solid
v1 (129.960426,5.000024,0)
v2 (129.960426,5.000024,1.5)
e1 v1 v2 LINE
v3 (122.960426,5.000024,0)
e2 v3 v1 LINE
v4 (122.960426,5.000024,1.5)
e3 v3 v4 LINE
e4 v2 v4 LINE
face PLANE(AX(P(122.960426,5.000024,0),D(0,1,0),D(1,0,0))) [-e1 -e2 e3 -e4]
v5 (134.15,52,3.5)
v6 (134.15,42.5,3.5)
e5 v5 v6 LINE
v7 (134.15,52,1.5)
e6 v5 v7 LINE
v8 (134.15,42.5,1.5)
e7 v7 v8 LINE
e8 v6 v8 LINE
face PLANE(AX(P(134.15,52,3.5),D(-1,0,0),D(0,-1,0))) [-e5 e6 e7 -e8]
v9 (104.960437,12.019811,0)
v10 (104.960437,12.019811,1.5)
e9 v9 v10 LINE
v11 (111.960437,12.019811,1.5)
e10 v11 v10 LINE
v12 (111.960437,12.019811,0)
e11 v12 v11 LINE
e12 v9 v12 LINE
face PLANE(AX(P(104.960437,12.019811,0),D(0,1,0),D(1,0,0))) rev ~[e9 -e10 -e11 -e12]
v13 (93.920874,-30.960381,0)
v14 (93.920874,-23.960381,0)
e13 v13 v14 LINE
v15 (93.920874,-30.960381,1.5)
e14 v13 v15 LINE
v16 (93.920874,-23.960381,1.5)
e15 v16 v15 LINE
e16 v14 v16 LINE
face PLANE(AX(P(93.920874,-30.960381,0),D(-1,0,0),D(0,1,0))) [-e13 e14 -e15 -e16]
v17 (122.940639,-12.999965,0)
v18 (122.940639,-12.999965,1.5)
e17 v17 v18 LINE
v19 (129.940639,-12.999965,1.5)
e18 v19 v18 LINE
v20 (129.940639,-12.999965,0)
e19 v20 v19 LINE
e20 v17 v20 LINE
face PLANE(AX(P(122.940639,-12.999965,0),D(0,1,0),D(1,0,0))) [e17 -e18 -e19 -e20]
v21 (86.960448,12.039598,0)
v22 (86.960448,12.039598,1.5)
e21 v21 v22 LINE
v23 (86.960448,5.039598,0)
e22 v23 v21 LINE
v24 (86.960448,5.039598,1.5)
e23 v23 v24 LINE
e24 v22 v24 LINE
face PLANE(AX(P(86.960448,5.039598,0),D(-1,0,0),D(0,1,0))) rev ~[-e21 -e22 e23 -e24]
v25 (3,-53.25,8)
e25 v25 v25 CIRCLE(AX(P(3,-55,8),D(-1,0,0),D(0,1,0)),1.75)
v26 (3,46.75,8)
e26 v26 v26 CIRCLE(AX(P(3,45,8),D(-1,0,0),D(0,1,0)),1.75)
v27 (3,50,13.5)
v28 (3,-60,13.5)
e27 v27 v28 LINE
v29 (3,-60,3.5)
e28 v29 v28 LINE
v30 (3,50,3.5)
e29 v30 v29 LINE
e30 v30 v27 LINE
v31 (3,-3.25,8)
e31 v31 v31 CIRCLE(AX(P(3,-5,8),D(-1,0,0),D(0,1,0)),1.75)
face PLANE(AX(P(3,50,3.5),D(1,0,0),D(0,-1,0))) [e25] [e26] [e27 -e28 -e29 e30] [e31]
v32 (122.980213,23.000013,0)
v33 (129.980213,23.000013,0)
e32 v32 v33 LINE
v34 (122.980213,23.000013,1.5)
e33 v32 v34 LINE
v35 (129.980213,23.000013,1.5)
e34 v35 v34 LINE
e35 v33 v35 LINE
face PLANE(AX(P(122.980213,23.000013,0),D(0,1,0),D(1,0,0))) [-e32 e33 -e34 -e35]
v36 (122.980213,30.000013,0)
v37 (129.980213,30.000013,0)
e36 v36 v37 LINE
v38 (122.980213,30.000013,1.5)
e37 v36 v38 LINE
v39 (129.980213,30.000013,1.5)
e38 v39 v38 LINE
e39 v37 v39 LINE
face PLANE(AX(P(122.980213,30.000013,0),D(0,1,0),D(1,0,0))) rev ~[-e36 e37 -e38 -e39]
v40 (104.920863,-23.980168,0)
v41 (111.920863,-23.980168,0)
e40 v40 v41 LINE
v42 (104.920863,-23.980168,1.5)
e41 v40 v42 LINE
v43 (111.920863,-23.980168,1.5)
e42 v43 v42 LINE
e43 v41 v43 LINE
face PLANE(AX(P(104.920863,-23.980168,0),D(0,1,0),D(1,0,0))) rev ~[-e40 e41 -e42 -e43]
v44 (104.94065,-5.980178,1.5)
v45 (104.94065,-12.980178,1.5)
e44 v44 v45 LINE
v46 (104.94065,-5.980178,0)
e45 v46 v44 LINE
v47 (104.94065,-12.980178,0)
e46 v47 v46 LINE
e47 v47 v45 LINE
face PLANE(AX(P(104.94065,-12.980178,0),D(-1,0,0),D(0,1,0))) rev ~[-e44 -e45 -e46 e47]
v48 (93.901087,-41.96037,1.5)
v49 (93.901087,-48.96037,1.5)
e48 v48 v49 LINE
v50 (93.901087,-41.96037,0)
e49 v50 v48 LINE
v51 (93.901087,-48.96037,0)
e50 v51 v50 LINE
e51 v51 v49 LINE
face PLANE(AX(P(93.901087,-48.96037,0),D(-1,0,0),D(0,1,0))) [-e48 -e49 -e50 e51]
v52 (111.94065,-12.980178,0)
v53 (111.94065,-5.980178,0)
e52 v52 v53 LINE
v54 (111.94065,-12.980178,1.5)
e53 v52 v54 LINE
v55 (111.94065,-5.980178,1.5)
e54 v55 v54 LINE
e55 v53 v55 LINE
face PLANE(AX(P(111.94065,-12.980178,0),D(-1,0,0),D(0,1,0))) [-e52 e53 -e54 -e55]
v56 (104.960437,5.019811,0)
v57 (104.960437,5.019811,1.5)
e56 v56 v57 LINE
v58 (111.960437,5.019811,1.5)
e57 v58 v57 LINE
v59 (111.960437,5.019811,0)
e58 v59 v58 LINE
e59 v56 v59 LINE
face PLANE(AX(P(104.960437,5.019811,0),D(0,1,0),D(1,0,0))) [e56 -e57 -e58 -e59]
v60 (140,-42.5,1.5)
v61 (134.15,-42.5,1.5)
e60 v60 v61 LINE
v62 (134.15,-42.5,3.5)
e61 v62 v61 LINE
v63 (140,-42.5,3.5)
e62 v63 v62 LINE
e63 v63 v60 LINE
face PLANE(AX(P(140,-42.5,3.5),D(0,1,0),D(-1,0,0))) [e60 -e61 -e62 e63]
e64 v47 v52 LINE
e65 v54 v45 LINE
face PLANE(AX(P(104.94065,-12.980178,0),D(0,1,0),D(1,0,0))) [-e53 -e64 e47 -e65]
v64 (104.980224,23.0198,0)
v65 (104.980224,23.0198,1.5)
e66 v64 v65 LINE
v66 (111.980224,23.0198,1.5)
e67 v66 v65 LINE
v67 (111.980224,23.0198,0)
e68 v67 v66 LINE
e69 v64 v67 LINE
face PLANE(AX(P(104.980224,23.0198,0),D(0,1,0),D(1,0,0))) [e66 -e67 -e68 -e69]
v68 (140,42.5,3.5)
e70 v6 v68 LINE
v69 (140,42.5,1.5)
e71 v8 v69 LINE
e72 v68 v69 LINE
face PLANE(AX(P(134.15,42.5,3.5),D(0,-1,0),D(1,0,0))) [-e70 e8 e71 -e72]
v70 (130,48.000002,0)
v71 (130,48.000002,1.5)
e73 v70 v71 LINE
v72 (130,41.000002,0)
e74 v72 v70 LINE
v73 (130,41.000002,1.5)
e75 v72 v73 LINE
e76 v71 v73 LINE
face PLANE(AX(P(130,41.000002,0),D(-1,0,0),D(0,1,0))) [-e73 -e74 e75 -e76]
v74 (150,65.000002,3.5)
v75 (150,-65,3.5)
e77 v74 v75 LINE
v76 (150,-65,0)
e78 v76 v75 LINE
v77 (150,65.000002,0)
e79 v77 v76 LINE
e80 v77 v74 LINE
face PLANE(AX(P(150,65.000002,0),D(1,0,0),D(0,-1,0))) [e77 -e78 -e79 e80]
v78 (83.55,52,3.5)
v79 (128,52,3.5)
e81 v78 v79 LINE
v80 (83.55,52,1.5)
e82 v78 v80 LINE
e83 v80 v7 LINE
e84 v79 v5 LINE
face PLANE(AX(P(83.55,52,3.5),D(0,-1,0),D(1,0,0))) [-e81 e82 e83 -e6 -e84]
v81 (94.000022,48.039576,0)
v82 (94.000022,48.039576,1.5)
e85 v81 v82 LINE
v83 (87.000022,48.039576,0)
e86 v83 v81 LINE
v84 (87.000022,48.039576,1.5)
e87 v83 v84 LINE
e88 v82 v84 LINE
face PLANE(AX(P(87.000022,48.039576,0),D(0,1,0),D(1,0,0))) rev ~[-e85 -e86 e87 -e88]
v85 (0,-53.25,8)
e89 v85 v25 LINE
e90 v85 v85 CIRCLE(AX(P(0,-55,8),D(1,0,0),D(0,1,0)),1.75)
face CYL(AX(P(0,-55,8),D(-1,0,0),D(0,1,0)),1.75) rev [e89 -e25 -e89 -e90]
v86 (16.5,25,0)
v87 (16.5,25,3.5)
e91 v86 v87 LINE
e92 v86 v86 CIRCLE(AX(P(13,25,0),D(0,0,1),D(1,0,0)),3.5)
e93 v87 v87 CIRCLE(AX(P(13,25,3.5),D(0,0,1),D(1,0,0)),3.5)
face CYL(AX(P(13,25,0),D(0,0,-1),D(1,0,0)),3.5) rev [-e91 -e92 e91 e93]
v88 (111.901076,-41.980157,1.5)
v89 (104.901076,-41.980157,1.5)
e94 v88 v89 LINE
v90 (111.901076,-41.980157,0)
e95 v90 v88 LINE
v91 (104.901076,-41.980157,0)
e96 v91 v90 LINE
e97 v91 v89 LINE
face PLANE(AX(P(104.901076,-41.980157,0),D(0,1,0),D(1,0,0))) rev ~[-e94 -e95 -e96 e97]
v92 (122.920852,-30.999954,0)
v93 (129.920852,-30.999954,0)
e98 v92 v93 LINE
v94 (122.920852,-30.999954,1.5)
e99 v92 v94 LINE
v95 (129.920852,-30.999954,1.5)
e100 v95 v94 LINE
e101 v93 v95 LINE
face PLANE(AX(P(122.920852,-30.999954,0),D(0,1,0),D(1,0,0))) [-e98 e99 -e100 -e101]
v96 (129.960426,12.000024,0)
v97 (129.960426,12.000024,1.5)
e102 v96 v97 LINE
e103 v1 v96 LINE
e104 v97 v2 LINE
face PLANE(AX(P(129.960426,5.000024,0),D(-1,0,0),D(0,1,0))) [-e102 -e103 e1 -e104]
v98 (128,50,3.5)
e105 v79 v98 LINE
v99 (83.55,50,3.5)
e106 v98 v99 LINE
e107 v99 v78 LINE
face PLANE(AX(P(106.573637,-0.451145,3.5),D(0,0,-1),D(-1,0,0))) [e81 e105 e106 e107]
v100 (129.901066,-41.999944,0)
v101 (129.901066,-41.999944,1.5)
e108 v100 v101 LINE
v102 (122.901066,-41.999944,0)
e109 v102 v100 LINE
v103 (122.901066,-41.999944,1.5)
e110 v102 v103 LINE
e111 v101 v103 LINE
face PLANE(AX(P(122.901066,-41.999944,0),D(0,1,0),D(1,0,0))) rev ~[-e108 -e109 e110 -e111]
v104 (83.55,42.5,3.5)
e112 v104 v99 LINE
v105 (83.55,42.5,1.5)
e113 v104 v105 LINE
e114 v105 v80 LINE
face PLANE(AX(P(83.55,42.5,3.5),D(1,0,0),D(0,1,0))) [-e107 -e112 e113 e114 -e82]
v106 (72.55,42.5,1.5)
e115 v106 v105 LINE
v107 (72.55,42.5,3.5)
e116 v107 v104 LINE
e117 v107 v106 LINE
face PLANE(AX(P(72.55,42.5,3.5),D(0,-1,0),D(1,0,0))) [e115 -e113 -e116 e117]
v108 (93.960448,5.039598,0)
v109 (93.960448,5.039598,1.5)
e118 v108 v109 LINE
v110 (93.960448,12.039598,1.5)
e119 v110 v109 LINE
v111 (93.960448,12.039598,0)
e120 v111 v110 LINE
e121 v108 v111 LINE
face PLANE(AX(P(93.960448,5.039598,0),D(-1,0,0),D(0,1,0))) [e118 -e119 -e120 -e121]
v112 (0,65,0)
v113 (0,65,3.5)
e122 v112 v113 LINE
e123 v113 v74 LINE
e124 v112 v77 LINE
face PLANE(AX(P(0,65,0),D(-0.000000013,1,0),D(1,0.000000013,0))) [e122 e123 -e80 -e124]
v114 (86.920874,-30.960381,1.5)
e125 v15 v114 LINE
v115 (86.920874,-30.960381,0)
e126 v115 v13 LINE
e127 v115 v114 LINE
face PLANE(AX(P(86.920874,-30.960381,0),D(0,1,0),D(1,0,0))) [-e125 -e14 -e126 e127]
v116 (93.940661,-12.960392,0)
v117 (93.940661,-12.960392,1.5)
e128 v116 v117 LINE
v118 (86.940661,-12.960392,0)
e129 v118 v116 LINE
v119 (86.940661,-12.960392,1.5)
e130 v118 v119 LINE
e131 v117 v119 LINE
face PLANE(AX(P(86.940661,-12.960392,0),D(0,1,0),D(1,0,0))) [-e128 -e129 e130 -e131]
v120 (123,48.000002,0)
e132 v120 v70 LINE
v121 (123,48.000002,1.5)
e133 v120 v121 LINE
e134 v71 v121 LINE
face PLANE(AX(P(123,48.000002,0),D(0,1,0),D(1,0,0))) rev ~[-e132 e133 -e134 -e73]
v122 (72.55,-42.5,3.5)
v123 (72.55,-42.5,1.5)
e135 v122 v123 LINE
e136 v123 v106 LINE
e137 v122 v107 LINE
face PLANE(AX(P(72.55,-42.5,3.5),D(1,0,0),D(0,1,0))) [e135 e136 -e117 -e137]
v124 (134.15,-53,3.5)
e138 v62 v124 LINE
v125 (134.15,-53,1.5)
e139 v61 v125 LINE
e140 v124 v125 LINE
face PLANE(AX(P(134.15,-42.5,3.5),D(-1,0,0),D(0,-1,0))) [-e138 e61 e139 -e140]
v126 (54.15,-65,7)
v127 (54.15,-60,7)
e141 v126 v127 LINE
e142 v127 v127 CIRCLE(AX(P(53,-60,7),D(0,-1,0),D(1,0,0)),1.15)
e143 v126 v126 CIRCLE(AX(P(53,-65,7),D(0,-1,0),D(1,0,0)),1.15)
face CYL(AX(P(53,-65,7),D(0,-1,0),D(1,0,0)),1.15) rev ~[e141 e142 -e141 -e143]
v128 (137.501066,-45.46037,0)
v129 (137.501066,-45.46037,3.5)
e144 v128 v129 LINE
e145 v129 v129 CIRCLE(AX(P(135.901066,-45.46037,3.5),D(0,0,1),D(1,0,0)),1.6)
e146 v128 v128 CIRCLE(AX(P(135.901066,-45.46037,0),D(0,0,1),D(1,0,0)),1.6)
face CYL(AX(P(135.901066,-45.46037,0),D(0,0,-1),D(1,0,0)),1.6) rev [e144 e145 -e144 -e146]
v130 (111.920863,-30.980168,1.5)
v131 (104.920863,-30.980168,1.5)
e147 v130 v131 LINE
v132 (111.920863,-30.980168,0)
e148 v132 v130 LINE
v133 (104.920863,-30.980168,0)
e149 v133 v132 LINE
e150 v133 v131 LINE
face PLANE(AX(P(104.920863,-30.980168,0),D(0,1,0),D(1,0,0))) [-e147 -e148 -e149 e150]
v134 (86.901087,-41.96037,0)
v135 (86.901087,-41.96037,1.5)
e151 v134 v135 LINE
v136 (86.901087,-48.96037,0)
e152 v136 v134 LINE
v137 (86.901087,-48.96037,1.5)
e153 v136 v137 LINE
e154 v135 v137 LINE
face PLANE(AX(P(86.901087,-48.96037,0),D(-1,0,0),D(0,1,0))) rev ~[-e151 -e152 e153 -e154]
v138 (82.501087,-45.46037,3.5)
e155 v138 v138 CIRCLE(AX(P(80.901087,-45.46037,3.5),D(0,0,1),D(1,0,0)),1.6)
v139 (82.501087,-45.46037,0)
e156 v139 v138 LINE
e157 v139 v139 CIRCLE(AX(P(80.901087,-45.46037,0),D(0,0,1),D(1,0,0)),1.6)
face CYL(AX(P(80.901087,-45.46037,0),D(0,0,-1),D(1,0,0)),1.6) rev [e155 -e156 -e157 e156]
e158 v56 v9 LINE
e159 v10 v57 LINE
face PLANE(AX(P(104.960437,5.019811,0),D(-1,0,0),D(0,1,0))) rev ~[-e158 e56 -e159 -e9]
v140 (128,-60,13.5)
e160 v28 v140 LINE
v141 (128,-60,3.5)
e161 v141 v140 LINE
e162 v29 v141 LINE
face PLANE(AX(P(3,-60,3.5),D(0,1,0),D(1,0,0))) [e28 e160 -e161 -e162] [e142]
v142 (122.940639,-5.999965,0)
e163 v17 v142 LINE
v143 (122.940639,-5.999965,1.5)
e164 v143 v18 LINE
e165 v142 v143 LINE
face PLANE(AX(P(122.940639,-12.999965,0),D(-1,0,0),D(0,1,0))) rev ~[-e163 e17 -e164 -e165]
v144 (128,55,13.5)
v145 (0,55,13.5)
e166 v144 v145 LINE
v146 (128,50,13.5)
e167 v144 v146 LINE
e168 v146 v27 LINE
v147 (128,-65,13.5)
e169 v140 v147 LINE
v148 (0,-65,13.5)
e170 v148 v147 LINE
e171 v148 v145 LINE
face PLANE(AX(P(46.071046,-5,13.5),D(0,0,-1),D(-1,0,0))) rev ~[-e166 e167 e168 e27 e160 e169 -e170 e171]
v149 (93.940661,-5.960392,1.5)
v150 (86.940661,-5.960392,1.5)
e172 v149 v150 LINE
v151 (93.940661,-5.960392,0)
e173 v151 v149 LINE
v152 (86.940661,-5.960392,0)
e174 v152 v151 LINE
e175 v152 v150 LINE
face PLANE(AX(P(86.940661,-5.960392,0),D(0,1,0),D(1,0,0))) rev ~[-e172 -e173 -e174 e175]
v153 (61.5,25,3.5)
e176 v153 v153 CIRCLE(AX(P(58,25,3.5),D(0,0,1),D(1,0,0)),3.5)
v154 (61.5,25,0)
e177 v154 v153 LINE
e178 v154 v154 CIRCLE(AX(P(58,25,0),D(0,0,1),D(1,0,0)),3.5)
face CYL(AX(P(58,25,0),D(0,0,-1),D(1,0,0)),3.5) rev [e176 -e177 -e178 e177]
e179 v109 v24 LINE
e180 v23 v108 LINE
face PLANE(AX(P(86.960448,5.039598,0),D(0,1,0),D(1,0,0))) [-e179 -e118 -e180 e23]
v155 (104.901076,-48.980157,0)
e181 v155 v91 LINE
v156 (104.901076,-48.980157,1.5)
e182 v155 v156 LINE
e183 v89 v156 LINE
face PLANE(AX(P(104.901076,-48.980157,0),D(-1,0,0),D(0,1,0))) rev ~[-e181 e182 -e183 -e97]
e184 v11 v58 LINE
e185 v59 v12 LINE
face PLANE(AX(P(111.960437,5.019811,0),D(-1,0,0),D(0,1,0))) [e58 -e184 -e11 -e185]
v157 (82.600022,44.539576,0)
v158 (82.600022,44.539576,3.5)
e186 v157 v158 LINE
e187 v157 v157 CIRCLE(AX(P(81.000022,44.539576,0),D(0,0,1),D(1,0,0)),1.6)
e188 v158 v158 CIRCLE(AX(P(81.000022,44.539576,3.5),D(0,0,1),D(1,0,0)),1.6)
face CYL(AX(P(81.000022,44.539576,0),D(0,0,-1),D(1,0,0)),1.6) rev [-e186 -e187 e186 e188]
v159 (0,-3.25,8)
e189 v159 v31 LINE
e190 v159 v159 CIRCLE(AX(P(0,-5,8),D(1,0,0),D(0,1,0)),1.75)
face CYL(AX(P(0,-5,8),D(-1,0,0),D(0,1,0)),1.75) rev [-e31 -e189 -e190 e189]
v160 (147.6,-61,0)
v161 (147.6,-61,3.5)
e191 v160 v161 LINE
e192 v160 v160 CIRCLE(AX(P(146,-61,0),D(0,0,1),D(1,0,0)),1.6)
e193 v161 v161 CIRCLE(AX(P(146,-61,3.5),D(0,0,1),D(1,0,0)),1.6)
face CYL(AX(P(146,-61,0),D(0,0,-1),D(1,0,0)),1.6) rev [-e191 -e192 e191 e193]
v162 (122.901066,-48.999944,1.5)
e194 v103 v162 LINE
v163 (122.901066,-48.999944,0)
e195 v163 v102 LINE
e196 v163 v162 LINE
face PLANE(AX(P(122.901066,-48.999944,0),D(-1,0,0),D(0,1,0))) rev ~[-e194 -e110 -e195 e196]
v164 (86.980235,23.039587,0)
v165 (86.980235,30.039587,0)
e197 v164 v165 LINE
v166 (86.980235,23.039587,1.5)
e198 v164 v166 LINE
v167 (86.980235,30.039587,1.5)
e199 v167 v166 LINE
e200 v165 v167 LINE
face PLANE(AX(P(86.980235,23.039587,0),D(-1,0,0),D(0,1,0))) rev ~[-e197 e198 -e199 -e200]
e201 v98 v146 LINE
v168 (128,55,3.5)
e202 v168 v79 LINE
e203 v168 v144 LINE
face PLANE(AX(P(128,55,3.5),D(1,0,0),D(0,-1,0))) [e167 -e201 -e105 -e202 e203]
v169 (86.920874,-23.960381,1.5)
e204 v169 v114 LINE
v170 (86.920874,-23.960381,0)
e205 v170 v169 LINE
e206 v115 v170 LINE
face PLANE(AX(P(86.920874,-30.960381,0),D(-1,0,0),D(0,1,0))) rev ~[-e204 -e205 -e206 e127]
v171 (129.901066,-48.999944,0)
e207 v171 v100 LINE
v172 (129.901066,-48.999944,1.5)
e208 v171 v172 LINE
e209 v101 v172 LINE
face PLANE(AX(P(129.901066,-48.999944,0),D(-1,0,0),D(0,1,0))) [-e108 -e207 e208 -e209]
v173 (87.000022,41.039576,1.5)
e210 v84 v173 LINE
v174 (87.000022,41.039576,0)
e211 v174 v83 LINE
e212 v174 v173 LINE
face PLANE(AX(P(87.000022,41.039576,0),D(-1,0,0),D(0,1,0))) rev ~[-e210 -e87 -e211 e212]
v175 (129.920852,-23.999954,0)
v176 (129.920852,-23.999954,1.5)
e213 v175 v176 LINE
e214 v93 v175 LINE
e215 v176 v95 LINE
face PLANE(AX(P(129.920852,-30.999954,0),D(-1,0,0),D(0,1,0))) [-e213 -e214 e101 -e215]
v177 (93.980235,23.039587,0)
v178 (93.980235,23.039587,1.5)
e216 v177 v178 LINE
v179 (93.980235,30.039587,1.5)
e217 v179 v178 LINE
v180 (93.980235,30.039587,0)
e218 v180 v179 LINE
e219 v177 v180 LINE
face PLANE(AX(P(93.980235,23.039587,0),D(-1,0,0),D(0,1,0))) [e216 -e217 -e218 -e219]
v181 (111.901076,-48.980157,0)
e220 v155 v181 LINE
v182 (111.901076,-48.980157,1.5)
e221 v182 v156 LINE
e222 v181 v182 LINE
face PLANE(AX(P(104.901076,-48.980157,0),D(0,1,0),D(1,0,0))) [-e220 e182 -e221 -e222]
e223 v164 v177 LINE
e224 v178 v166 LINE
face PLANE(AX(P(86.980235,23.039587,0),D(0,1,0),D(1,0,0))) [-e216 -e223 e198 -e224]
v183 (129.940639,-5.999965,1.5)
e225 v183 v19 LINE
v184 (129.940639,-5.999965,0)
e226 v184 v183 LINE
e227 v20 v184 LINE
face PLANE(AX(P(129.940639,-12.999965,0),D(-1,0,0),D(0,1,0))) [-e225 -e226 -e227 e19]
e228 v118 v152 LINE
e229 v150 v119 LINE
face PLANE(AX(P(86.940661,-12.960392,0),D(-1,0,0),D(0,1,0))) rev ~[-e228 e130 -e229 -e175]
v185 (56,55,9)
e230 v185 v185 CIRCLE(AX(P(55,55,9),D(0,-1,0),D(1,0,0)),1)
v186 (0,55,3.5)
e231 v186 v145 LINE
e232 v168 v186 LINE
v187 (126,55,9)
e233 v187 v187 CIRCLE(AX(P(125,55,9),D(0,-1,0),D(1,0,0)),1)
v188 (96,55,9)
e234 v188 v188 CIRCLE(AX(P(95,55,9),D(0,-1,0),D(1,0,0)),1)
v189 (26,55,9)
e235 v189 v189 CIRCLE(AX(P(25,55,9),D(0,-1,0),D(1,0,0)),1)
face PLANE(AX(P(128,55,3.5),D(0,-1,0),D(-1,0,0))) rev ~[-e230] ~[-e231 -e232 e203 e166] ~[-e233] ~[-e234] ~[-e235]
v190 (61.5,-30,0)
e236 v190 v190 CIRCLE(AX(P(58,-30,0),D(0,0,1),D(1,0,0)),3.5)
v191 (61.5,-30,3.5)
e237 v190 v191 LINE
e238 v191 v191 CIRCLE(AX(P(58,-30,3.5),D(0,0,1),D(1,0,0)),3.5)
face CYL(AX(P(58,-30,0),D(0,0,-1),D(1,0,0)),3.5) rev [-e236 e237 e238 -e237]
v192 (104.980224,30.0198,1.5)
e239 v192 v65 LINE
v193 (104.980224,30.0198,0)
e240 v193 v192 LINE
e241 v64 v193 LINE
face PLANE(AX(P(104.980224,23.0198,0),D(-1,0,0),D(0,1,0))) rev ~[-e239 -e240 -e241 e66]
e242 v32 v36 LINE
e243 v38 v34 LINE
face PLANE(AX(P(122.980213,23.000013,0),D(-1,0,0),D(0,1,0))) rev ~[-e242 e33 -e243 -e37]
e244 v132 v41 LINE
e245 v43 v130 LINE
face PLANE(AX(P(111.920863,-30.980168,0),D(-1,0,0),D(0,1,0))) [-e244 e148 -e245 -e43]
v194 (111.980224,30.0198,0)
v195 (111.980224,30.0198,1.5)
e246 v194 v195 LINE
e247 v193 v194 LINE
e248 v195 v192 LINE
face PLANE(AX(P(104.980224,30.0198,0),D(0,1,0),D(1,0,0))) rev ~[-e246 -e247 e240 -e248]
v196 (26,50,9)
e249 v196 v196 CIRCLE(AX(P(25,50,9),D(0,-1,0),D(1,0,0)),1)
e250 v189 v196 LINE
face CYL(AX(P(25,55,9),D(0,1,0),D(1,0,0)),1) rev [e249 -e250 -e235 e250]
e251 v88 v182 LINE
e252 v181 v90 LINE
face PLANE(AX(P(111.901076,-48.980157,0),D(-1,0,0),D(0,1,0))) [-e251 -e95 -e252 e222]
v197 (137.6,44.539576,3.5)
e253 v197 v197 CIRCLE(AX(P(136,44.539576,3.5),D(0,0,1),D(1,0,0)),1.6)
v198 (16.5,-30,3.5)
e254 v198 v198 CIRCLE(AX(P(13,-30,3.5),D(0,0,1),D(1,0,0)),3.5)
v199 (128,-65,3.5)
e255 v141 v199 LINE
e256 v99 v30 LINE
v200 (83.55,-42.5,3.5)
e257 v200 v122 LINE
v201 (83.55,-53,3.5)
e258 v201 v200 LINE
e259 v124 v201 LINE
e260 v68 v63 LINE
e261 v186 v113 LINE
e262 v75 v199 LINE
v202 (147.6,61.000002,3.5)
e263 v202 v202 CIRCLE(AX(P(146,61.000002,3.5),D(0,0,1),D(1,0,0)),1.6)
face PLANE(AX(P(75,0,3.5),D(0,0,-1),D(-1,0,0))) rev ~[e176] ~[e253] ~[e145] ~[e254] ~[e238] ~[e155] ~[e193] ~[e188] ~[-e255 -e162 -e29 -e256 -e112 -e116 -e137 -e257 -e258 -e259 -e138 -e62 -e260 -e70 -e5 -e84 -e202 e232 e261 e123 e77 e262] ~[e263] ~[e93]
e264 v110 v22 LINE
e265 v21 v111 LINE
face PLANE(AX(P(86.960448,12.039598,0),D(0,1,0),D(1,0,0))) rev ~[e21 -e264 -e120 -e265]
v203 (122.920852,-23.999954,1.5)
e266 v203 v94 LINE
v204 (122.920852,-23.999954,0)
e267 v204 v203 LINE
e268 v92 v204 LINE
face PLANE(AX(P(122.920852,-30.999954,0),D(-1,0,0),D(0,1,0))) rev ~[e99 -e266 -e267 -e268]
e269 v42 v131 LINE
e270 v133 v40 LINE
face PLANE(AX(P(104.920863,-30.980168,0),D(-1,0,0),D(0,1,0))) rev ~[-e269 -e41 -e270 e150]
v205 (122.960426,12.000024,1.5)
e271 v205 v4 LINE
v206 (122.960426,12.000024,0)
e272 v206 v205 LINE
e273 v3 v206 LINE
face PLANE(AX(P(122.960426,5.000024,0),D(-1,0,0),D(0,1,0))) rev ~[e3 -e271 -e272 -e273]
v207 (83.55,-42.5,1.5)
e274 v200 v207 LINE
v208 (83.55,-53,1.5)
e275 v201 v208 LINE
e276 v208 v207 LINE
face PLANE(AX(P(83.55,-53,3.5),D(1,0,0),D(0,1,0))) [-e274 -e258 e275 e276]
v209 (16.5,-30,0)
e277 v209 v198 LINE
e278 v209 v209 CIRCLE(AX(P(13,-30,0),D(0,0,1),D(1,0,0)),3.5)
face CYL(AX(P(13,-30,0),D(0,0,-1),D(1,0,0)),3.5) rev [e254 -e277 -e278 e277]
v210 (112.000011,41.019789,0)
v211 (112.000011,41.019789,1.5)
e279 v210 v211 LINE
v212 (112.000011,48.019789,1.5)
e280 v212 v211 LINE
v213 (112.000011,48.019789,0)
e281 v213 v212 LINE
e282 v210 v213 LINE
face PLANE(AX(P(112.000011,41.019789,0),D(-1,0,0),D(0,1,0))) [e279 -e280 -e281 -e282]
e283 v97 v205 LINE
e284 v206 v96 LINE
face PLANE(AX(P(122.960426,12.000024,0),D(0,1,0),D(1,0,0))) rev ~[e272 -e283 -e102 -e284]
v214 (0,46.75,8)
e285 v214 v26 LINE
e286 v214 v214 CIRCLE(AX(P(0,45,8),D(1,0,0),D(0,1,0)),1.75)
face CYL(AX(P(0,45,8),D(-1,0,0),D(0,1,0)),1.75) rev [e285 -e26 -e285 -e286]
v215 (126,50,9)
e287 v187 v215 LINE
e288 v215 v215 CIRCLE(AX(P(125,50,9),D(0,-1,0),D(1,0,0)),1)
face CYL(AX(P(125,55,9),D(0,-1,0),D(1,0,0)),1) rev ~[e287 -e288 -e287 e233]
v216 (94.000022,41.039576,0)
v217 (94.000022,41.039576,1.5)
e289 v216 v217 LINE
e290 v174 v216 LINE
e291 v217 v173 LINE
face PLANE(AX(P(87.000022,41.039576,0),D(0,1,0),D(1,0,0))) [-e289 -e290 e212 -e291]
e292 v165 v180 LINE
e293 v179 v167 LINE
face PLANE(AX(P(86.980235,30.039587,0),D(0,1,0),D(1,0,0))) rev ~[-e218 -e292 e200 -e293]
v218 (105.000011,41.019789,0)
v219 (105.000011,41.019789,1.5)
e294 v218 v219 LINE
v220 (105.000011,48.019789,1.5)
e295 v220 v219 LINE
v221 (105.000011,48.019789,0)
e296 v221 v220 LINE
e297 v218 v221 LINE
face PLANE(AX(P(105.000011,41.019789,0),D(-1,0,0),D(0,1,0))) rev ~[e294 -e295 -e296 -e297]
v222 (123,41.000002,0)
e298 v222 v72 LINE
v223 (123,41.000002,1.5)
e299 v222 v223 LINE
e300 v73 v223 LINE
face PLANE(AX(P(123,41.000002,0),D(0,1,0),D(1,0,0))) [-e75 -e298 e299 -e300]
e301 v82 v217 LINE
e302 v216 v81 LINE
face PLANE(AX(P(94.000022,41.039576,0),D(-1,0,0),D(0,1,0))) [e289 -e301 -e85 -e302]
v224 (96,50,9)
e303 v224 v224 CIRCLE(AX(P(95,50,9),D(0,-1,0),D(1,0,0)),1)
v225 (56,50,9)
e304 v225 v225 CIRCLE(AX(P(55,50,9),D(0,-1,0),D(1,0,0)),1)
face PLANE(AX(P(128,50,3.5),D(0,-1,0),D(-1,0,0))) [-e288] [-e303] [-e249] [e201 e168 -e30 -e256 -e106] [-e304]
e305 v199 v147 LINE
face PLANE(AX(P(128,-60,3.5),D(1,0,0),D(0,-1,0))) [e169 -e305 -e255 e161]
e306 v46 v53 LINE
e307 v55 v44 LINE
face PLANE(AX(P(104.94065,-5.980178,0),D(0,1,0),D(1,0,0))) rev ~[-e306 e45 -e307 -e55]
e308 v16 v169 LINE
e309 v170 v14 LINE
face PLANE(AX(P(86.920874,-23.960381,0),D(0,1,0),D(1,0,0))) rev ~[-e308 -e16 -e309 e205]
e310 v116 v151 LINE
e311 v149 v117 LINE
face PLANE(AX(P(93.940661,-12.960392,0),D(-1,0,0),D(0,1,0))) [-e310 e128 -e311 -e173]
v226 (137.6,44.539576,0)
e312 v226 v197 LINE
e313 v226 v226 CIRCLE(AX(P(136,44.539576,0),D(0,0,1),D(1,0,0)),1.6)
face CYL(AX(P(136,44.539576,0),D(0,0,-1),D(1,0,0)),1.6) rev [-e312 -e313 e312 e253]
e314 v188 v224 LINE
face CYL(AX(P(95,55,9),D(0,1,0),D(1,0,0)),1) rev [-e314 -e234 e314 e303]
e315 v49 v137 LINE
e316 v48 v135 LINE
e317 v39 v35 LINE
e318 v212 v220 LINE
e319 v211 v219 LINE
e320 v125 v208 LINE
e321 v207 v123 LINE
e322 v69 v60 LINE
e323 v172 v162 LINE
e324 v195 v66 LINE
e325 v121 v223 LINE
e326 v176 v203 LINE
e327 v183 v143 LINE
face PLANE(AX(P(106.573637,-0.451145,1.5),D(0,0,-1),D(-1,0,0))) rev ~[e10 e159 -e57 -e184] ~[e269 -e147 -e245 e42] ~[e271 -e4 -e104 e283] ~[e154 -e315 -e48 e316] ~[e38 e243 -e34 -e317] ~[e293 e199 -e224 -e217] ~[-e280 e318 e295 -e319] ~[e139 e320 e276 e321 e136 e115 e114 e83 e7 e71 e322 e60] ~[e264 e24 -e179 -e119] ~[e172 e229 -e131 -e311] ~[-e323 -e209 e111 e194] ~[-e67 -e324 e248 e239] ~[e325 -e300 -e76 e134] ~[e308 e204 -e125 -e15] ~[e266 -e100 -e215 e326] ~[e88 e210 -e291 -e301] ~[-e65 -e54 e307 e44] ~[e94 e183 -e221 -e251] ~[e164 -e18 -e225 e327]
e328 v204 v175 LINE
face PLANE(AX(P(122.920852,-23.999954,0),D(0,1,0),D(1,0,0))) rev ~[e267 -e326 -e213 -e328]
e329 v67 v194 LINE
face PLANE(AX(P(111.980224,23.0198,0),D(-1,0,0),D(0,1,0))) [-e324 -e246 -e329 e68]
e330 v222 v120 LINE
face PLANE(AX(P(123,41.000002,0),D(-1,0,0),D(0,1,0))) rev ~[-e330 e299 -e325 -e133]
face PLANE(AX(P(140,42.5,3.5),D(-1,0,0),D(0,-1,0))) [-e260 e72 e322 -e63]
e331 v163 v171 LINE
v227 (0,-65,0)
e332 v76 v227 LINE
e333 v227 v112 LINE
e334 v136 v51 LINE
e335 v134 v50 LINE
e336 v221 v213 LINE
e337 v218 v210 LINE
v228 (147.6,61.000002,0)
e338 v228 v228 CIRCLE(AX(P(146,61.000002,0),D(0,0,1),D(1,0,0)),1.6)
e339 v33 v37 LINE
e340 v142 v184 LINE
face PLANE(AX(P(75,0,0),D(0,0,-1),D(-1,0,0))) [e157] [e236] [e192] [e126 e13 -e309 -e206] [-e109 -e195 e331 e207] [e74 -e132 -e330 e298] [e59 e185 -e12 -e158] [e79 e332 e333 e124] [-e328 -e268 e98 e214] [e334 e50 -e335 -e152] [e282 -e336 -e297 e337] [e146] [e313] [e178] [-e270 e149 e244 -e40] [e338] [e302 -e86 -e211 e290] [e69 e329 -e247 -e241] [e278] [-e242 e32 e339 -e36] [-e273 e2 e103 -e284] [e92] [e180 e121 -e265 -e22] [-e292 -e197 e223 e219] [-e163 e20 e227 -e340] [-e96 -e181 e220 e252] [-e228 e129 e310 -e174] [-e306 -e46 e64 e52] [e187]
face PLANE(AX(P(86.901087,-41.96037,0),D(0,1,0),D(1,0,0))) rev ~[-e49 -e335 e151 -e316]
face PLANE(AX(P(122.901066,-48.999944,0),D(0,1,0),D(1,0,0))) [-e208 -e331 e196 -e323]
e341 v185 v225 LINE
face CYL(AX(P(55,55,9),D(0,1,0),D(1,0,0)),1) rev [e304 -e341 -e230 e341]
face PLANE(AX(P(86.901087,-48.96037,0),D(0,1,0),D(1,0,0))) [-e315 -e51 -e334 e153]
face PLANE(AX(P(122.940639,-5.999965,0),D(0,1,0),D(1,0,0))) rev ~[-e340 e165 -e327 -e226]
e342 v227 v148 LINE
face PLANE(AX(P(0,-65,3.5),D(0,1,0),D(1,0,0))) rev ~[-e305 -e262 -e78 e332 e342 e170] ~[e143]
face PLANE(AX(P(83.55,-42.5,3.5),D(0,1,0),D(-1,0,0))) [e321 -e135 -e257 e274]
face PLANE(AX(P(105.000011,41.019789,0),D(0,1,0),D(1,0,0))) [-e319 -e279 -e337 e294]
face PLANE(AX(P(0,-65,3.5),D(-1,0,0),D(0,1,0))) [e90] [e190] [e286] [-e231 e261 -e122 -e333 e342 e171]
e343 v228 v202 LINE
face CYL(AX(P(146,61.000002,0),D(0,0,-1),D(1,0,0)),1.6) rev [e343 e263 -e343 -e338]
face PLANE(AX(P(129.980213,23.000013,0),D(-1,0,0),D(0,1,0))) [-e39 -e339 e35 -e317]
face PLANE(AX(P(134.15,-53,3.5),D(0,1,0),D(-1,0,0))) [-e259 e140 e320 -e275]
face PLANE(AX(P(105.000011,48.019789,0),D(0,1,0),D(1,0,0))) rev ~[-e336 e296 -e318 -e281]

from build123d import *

# Parameters (mm, degrees)
SKETCH013_R     = 3.5
SKETCH013_R_2   = 1.6
SKETCH013_W     = 7
SKETCH013_H     = 7
PAD004_DEPTH    = 3.5
PAD_DEPTH       = 10
SKETCH015_R     = 1.15
POCKET005_DEPTH = 5
SKETCH004_R     = 1
POCKET006_DEPTH = 5
SKETCH014_R     = 1.75
POCKET007_DEPTH = 5
POCKET_DEPTH    = 2


with BuildPart() as part:
    # Sketch013 → Pad004 (new body)
    with BuildSketch(Plane.XY):
        Polygon((0, 65), (150, 65.000002), (150, -65), (0, -65), align=None)
        with Locations((13, 25)):
            Circle(SKETCH013_R, mode=Mode.SUBTRACT)
        with Locations((58, 25)):
            Circle(SKETCH013_R, mode=Mode.SUBTRACT)
        with Locations((13, -30)):
            Circle(SKETCH013_R, mode=Mode.SUBTRACT)
        with Locations((58, -30)):
            Circle(SKETCH013_R, mode=Mode.SUBTRACT)
        with Locations((146, 61.000002)):
            Circle(SKETCH013_R_2, mode=Mode.SUBTRACT)
        with Locations((146, -61)):
            Circle(SKETCH013_R_2, mode=Mode.SUBTRACT)
        with Locations((81.000022, 44.539576)):
            Circle(SKETCH013_R_2, mode=Mode.SUBTRACT)
        with Locations((136, 44.539576)):
            Circle(SKETCH013_R_2, mode=Mode.SUBTRACT)
        with Locations((80.901087, -45.46037)):
            Circle(SKETCH013_R_2, mode=Mode.SUBTRACT)
        with Locations((135.901066, -45.46037)):
            Circle(SKETCH013_R_2, mode=Mode.SUBTRACT)
        with Locations((90.500022, 44.539576)):
            Rectangle(SKETCH013_W, SKETCH013_H, mode=Mode.SUBTRACT)
        with Locations((108.500011, 44.519789)):
            Rectangle(SKETCH013_W, SKETCH013_H, mode=Mode.SUBTRACT)
        with Locations((126.5, 44.500002)):
            Rectangle(SKETCH013_W, SKETCH013_H, mode=Mode.SUBTRACT)
        with Locations((90.480235, 26.539587)):
            Rectangle(SKETCH013_W, SKETCH013_H, mode=Mode.SUBTRACT)
        with Locations((108.480224, 26.5198)):
            Rectangle(SKETCH013_W, SKETCH013_H, mode=Mode.SUBTRACT)
        with Locations((126.480213, 26.500013)):
            Rectangle(SKETCH013_W, SKETCH013_H, mode=Mode.SUBTRACT)
        with Locations((90.460448, 8.539598)):
            Rectangle(SKETCH013_W, SKETCH013_H, mode=Mode.SUBTRACT)
        with Locations((108.460437, 8.519811)):
            Rectangle(SKETCH013_W, SKETCH013_H, mode=Mode.SUBTRACT)
        with Locations((126.460426, 8.500024)):
            Rectangle(SKETCH013_W, SKETCH013_H, mode=Mode.SUBTRACT)
        with Locations((90.440661, -9.460392)):
            Rectangle(SKETCH013_W, SKETCH013_H, mode=Mode.SUBTRACT)
        with Locations((108.44065, -9.480178)):
            Rectangle(SKETCH013_W, SKETCH013_H, mode=Mode.SUBTRACT)
        with Locations((126.440639, -9.499965)):
            Rectangle(SKETCH013_W, SKETCH013_H, mode=Mode.SUBTRACT)
        with Locations((90.420874, -27.460381)):
            Rectangle(SKETCH013_W, SKETCH013_H, mode=Mode.SUBTRACT)
        with Locations((108.420863, -27.480168)):
            Rectangle(SKETCH013_W, SKETCH013_H, mode=Mode.SUBTRACT)
        with Locations((126.420852, -27.499954)):
            Rectangle(SKETCH013_W, SKETCH013_H, mode=Mode.SUBTRACT)
        with Locations((90.401087, -45.46037)):
            Rectangle(SKETCH013_W, SKETCH013_H, mode=Mode.SUBTRACT)
        with Locations((108.401076, -45.480157)):
            Rectangle(SKETCH013_W, SKETCH013_H, mode=Mode.SUBTRACT)
        with Locations((126.401066, -45.499944)):
            Rectangle(SKETCH013_W, SKETCH013_H, mode=Mode.SUBTRACT)
    extrude(amount=PAD004_DEPTH)

    # Sketch001 → Pad (join)
    with BuildSketch(Plane.XY.offset(3.5)):
        Polygon((0, 55), (3, 55), (128, 55), (128, 50), (3, 50), (3, -60), (128, -60), (128, -65), (3, -65), (0, -65), align=None)
    extrude(amount=PAD_DEPTH)

    # Sketch015 → Pocket005 (cut)
    with BuildSketch(Plane.XZ.offset(65)):
        with Locations((53, 7)):
            Circle(SKETCH015_R)
    extrude(amount=-POCKET005_DEPTH, mode=Mode.SUBTRACT)

    # Sketch004 → Pocket006 (cut, symmetric)
    with BuildSketch(Plane.XZ.offset(-55)):
        with Locations((25, 9)):
            Circle(SKETCH004_R)
        with Locations((95, 9)):
            Circle(SKETCH004_R)
        with Locations((55, 9)):
            Circle(SKETCH004_R)
        with Locations((125, 9)):
            Circle(SKETCH004_R)
    extrude(amount=POCKET006_DEPTH, both=True, mode=Mode.SUBTRACT)

    # Sketch014 → Pocket007 (cut)
    with BuildSketch(Plane.YZ):
        with Locations((45, 8)):
            Circle(SKETCH014_R)
        with Locations((-5, 8)):
            Circle(SKETCH014_R)
        with Locations((-55, 8)):
            Circle(SKETCH014_R)
    extrude(amount=POCKET007_DEPTH, mode=Mode.SUBTRACT)

    # Sketch → Pocket (cut)
    with BuildSketch(Plane.XY.offset(3.5)):
        Polygon((83.55, 52), (134.15, 52), (134.15, 42.5), (140, 42.5), (140, -42.5), (134.15, -42.5), (134.15, -53), (83.55, -53), (83.55, -42.5), (72.55, -42.5), (72.55, 42.5), (83.55, 42.5), align=None)
    extrude(amount=-POCKET_DEPTH, mode=Mode.SUBTRACT)


solid = part.part
